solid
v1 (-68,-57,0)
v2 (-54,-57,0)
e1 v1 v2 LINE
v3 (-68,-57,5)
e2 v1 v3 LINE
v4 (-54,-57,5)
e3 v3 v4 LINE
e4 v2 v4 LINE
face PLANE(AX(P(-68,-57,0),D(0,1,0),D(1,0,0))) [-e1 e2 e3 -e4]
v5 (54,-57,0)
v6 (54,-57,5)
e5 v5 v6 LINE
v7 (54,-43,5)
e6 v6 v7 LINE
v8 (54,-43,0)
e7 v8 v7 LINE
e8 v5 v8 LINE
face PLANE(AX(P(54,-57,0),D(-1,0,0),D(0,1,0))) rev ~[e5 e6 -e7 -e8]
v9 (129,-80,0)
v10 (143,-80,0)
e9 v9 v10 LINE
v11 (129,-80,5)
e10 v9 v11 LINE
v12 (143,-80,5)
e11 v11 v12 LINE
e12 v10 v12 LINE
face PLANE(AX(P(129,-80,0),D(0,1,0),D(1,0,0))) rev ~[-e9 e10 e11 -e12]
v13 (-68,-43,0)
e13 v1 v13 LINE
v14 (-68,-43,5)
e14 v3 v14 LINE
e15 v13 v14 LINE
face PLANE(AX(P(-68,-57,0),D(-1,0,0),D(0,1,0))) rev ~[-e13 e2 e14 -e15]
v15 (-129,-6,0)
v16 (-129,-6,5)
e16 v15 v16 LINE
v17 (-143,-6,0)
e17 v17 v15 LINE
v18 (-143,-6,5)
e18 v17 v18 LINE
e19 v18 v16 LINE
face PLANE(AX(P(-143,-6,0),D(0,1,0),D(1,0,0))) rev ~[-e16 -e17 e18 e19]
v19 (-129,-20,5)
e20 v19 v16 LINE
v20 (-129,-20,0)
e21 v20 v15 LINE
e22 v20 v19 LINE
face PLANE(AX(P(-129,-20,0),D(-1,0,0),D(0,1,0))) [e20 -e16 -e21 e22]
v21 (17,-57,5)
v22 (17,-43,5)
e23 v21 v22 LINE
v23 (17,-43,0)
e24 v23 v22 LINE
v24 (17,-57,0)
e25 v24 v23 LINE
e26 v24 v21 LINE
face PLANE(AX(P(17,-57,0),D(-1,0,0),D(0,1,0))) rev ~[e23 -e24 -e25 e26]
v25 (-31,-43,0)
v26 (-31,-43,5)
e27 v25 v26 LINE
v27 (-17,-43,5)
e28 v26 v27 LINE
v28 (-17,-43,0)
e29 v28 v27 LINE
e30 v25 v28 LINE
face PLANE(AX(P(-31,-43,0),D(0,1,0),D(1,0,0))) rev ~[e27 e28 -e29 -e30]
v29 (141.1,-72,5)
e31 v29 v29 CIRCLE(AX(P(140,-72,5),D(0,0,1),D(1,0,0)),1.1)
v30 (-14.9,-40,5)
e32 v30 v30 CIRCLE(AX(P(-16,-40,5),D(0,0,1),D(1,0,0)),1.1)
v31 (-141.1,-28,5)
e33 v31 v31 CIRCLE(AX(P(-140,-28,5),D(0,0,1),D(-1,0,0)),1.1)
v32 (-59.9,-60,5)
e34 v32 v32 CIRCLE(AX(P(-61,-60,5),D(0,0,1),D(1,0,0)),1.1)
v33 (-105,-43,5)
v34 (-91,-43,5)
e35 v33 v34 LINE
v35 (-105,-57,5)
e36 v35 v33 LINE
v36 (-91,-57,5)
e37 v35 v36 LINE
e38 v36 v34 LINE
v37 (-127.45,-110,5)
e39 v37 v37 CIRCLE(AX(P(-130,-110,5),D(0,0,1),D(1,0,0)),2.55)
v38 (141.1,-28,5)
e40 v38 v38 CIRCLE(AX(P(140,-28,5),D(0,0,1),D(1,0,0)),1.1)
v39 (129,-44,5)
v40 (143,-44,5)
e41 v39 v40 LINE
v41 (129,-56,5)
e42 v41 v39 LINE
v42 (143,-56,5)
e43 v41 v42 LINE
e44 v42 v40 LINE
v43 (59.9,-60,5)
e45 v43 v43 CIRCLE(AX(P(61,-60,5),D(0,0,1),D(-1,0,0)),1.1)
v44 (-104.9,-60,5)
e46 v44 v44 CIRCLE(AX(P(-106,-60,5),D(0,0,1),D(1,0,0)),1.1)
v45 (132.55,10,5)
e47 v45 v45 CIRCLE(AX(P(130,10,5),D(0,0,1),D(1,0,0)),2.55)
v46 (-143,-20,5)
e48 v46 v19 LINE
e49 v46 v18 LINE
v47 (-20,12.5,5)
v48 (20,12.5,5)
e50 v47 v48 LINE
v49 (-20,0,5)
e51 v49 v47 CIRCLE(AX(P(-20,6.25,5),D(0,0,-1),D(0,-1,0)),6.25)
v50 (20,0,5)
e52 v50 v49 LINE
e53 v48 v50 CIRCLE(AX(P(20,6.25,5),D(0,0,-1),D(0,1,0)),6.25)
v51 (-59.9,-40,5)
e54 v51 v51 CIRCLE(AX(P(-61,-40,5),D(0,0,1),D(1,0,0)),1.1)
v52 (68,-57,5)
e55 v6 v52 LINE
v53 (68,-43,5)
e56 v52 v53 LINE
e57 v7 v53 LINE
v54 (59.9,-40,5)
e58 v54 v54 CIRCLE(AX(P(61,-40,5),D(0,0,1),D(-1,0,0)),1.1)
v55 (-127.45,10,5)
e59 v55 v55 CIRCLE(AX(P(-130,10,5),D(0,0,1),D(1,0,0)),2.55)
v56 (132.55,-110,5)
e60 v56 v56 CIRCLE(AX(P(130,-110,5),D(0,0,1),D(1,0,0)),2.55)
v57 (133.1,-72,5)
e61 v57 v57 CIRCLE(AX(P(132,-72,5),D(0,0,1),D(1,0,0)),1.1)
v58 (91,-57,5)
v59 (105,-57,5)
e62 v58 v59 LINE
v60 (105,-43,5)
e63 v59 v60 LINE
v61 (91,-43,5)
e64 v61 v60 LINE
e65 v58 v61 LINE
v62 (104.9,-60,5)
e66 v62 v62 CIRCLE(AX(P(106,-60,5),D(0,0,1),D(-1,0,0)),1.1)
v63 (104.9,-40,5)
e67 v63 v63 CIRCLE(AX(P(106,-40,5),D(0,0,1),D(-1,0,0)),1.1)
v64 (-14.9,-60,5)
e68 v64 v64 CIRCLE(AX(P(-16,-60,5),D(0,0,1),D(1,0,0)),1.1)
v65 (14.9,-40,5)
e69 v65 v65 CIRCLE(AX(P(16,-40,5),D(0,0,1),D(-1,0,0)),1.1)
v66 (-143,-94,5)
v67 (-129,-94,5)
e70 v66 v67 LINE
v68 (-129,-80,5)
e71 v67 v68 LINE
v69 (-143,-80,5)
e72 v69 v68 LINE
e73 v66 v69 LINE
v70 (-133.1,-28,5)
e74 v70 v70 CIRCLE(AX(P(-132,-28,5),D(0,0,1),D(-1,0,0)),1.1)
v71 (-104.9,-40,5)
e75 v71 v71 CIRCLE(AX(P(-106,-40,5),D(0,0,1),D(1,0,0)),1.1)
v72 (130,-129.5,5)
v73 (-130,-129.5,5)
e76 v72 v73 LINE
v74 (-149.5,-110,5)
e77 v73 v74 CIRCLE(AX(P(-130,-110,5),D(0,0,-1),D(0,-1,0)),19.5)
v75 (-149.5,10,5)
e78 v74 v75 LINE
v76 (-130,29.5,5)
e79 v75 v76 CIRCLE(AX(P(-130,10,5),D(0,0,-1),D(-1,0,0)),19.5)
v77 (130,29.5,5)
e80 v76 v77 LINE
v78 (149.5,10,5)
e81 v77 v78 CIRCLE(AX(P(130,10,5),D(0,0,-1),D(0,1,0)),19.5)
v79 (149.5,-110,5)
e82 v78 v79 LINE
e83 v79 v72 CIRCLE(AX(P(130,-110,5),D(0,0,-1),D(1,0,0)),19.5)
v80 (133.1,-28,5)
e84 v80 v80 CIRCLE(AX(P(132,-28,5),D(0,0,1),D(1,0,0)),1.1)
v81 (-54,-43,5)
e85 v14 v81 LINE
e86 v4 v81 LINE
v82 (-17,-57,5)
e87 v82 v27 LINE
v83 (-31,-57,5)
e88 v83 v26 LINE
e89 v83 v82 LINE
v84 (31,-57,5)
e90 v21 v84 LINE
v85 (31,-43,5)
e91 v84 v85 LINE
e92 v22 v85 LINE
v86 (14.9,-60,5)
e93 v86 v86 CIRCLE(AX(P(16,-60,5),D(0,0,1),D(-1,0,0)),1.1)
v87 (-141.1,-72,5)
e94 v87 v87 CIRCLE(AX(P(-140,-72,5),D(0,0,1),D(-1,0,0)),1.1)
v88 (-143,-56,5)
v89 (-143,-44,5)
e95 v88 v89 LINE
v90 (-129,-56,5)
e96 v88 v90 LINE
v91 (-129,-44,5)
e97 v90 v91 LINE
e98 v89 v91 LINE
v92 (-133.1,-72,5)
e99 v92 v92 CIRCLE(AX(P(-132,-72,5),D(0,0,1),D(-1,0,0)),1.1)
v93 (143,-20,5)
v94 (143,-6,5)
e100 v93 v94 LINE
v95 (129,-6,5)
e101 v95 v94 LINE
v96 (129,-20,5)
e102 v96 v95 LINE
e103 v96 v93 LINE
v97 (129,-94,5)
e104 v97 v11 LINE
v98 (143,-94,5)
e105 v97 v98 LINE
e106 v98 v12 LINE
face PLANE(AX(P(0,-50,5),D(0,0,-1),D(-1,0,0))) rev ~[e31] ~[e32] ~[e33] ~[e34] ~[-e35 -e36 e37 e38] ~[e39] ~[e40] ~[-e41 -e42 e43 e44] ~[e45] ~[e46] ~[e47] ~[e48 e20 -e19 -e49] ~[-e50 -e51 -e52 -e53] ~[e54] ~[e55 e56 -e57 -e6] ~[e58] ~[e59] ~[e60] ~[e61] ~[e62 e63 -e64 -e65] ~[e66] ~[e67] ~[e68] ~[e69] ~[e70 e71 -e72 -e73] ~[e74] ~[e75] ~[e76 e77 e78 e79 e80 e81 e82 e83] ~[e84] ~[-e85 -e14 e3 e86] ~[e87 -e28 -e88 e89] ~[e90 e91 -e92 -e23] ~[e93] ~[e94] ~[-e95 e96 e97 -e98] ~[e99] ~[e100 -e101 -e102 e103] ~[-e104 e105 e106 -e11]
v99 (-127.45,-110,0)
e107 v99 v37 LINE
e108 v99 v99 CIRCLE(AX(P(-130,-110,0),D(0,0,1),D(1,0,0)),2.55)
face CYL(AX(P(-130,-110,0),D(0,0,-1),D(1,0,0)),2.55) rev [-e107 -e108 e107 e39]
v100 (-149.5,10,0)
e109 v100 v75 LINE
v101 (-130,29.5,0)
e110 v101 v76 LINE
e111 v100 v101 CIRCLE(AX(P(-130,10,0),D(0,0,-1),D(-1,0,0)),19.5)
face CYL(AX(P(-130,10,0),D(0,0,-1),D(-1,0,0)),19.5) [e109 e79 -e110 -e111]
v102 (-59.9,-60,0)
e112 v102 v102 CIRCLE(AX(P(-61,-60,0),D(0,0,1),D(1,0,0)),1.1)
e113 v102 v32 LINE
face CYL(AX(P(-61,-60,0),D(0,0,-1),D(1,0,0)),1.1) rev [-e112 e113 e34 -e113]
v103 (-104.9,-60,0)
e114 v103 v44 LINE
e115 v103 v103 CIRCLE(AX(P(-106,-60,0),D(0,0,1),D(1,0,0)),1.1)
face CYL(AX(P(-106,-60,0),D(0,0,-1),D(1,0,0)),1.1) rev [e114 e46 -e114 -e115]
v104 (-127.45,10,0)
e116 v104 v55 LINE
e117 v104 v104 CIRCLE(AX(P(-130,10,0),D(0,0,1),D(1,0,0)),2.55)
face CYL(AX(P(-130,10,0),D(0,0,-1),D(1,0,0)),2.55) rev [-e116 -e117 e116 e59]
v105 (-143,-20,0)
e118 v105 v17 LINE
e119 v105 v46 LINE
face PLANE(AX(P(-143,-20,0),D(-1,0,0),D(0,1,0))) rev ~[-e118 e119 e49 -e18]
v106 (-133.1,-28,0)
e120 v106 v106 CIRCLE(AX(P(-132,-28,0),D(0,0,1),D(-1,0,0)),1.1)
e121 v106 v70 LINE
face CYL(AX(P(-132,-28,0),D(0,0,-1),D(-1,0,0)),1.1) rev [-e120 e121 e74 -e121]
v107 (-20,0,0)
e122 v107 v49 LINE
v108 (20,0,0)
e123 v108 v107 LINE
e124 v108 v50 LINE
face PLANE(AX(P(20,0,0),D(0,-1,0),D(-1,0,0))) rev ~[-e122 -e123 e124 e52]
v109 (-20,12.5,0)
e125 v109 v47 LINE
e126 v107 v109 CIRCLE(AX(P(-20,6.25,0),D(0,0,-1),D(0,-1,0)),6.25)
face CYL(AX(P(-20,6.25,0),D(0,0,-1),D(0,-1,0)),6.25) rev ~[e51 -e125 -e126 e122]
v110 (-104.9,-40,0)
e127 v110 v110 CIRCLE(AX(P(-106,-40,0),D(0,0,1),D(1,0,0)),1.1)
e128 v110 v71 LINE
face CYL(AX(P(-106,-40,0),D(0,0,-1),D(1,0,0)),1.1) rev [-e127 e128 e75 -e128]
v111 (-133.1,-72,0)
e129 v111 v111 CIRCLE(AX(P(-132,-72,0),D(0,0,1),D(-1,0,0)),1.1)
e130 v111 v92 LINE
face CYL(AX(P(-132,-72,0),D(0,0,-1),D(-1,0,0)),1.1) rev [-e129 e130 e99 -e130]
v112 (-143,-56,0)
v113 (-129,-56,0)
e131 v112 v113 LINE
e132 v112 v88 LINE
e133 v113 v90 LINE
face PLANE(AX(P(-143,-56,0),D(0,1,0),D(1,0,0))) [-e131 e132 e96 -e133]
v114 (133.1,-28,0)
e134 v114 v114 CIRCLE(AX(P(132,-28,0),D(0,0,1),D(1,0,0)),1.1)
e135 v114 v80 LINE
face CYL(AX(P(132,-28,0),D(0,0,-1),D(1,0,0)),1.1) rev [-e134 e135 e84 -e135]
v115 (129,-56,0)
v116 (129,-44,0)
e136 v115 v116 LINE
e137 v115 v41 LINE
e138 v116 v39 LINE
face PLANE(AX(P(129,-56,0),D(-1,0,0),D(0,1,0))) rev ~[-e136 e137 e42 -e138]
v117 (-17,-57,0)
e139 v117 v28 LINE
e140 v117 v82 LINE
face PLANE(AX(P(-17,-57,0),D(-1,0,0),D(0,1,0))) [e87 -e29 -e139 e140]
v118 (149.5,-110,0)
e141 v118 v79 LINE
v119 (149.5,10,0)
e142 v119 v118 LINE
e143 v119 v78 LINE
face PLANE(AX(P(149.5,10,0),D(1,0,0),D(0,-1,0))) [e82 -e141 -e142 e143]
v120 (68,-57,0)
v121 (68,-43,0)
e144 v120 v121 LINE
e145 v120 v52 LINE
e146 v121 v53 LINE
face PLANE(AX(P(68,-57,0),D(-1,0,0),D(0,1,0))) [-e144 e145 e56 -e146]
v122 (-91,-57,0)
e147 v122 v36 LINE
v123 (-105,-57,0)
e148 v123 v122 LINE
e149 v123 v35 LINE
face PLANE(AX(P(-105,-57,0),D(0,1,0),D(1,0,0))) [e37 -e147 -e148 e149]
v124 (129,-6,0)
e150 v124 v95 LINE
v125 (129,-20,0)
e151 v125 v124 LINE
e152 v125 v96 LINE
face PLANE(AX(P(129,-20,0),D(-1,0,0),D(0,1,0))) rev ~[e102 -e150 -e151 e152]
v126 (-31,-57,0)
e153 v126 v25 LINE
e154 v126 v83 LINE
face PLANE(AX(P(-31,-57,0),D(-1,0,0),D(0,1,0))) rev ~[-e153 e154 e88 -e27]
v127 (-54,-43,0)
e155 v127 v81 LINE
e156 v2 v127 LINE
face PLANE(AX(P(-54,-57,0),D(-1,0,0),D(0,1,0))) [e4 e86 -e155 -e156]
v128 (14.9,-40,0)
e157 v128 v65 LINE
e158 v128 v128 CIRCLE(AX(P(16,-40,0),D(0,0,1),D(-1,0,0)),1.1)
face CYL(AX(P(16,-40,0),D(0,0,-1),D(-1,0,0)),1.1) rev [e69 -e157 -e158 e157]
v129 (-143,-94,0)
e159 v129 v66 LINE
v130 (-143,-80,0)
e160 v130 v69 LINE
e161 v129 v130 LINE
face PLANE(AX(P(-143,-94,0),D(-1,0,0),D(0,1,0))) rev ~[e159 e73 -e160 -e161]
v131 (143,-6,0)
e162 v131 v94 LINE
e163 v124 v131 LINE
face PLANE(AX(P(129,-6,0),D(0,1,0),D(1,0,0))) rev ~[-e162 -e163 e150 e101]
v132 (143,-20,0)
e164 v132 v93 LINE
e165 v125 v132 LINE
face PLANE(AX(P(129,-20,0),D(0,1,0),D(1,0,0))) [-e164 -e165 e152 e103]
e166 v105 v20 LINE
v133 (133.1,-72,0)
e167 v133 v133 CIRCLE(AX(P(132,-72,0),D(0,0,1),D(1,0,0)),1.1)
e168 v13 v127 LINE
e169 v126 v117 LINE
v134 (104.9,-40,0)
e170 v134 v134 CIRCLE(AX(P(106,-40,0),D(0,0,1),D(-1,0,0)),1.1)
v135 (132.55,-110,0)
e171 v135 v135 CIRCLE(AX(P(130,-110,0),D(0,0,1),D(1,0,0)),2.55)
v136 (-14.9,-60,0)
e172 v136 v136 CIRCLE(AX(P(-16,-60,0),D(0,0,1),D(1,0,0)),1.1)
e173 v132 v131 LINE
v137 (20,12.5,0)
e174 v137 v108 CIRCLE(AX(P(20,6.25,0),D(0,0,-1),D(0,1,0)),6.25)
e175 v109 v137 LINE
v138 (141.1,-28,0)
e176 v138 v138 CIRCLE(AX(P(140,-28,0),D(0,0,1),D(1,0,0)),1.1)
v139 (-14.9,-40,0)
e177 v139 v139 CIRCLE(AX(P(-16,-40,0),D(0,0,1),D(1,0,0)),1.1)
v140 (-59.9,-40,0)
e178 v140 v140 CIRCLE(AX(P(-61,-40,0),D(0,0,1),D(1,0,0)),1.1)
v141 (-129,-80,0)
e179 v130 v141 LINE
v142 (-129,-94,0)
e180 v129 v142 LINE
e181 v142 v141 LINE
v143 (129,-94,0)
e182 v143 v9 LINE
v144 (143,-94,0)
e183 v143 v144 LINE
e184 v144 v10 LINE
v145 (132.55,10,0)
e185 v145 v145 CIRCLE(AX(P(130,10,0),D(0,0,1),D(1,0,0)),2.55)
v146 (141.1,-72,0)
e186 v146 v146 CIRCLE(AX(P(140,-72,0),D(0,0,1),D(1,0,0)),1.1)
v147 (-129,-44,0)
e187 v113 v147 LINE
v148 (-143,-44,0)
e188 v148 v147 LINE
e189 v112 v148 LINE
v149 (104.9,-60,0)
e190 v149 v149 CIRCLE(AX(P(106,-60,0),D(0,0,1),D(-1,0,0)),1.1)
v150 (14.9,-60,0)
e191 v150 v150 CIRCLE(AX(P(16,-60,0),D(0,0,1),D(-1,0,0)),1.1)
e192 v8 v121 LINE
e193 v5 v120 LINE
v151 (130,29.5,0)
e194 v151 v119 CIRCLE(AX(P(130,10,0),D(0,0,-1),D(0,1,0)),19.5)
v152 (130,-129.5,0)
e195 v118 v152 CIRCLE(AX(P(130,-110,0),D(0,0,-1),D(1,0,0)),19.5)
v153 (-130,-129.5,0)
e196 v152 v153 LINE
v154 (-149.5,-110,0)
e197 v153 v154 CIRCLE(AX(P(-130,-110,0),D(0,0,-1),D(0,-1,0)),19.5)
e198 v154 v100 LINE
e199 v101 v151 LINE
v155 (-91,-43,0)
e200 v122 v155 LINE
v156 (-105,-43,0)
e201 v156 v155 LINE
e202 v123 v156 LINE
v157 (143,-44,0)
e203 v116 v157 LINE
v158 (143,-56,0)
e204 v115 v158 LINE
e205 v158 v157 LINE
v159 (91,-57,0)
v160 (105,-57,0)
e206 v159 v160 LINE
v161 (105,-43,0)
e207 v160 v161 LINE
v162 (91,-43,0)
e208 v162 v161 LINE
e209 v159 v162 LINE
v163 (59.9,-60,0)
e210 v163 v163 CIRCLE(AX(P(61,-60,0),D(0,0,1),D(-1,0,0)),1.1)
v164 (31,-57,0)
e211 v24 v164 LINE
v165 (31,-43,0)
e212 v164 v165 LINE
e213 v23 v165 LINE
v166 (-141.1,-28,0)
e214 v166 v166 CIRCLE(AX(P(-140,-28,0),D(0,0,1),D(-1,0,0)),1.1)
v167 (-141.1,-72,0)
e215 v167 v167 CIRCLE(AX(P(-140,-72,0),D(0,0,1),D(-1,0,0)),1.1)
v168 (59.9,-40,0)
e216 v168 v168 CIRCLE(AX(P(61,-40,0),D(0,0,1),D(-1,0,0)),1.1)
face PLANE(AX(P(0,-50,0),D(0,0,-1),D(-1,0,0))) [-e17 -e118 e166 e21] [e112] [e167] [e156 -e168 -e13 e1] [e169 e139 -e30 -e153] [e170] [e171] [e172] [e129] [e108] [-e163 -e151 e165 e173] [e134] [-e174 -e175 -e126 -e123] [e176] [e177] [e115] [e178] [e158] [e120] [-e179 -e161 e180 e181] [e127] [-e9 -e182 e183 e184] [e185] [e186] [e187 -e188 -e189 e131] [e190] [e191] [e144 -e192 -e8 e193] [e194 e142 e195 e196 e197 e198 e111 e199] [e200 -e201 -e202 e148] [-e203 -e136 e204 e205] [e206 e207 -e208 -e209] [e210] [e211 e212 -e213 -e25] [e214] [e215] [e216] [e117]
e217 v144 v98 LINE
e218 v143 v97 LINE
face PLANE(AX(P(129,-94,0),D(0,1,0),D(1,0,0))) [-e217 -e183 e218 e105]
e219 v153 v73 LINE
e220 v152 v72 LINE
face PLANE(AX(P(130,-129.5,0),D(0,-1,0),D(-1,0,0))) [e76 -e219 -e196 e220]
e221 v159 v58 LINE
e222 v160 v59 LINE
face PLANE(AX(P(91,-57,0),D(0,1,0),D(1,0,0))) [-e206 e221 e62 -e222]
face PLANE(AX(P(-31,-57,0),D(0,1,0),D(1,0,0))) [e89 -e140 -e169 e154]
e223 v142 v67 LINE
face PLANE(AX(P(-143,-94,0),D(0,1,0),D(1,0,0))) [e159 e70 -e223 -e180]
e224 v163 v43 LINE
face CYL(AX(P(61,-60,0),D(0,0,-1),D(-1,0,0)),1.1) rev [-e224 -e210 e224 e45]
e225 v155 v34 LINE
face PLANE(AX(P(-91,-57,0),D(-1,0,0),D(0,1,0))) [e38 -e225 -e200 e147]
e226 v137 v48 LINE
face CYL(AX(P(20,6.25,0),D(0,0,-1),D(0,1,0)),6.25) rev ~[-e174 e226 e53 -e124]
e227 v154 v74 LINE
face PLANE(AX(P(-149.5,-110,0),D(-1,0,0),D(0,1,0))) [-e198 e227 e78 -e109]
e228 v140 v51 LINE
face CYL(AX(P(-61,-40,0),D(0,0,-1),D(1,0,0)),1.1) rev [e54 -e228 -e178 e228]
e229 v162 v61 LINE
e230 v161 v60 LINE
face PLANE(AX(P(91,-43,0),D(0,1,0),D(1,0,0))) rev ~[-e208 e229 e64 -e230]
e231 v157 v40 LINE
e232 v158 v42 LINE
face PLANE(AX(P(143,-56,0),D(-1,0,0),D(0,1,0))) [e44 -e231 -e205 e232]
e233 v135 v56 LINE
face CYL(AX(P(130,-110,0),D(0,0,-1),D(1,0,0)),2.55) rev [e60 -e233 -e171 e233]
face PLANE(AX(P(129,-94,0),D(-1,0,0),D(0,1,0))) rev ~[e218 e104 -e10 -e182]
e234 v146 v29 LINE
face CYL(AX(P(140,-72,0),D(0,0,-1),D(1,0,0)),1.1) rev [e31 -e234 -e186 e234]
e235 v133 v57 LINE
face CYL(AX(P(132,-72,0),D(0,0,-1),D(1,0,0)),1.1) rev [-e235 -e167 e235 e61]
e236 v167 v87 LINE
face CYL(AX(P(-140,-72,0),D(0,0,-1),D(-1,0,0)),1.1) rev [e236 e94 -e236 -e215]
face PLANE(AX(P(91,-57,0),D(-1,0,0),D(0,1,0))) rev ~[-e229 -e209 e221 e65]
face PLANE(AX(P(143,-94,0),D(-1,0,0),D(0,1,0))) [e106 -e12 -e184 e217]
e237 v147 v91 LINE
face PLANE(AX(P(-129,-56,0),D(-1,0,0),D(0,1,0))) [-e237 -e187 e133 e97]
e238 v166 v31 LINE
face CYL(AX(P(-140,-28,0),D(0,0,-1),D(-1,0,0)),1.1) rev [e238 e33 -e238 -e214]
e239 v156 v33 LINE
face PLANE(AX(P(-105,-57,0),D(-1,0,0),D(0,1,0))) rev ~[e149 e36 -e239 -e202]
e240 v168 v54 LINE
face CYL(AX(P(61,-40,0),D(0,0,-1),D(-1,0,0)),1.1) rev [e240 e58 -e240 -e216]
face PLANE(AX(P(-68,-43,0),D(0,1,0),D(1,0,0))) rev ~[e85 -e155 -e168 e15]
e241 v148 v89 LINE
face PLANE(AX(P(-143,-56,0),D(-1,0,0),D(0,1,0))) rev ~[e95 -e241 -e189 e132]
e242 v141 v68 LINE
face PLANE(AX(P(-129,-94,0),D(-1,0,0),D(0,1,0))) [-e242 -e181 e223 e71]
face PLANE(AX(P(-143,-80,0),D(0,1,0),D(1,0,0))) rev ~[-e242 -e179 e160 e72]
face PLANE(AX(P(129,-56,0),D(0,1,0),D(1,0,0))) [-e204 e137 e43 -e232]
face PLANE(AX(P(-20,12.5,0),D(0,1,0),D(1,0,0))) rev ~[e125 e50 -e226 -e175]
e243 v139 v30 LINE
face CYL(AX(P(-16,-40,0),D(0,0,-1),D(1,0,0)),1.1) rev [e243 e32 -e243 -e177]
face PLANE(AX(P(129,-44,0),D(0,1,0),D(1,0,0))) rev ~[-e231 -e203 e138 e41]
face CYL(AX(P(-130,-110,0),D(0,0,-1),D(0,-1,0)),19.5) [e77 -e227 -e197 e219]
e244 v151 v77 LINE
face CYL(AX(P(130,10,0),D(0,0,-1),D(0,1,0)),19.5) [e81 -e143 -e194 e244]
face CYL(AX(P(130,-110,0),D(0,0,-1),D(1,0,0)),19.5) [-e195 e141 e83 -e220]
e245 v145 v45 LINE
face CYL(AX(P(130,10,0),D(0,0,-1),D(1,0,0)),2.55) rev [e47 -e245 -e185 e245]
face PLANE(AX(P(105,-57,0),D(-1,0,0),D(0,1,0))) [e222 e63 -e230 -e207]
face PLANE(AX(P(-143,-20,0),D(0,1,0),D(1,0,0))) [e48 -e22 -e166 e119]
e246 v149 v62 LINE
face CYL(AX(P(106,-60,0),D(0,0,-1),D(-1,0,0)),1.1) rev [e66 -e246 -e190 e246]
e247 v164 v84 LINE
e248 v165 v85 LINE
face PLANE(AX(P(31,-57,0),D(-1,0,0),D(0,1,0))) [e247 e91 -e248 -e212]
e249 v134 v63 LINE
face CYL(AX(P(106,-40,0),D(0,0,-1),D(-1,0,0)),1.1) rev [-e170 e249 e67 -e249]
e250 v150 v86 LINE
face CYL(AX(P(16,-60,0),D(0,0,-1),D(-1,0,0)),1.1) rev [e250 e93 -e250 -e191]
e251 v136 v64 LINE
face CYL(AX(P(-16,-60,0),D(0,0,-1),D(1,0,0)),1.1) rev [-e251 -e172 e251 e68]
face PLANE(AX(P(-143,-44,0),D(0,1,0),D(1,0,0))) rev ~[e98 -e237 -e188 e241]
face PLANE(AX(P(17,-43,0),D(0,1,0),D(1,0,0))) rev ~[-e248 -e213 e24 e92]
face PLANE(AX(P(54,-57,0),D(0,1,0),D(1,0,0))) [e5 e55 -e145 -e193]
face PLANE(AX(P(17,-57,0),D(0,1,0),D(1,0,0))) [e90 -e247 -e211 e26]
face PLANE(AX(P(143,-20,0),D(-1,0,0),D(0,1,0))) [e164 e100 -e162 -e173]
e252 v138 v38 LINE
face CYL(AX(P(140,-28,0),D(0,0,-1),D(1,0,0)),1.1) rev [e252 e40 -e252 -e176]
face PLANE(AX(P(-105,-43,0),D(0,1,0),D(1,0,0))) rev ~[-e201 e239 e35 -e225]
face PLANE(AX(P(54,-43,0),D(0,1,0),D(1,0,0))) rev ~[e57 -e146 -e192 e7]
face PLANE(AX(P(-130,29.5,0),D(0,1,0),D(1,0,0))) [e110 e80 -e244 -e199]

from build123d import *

# Parameters (mm, degrees)
SKETCH_2_R      = 2.55
SKETCH_2_R_2    = 1.1
SKETCH_2_W      = 14
SKETCH_2_H      = 14
SKETCH_2_H_2    = 12
EXTRUDE_1_DEPTH = 5


with BuildPart() as part:
    # 草图2 → 凸台-拉伸1 (new body)
    with BuildSketch(Plane.XY):
        with BuildLine():
            Line((-130, 29.5), (130, 29.5))
            ThreePointArc((130, 29.5), (143.788582233, 23.788582233), (149.5, 10))
            Line((149.5, 10), (149.5, -110))
            ThreePointArc((149.5, -110), (143.788582233, -123.788582233), (130, -129.5))
            Line((130, -129.5), (-130, -129.5))
            ThreePointArc((-130, -129.5), (-143.788582233, -123.788582233), (-149.5, -110))
            Line((-149.5, -110), (-149.5, 10))
            ThreePointArc((-149.5, 10), (-143.788582233, 23.788582233), (-130, 29.5))
        make_face()
        with Locations((130, -110)):
            Circle(SKETCH_2_R, mode=Mode.SUBTRACT)
        with Locations((130, 10)):
            Circle(SKETCH_2_R, mode=Mode.SUBTRACT)
        with Locations((-130, -110)):
            Circle(SKETCH_2_R, mode=Mode.SUBTRACT)
        with Locations((-130, 10)):
            Circle(SKETCH_2_R, mode=Mode.SUBTRACT)
        with Locations((-106, -40)):
            Circle(SKETCH_2_R_2, mode=Mode.SUBTRACT)
        with Locations((-106, -60)):
            Circle(SKETCH_2_R_2, mode=Mode.SUBTRACT)
        with Locations((-16, -40)):
            Circle(SKETCH_2_R_2, mode=Mode.SUBTRACT)
        with Locations((-16, -60)):
            Circle(SKETCH_2_R_2, mode=Mode.SUBTRACT)
        with Locations((-61, -60)):
            Circle(SKETCH_2_R_2, mode=Mode.SUBTRACT)
        with Locations((-61, -40)):
            Circle(SKETCH_2_R_2, mode=Mode.SUBTRACT)
        with Locations(Location((16, -60, 0), (0, 0, 180))):
            Circle(SKETCH_2_R_2, mode=Mode.SUBTRACT)
        with Locations(Location((16, -40, 0), (0, 0, 180))):
            Circle(SKETCH_2_R_2, mode=Mode.SUBTRACT)
        with Locations(Location((61, -60, 0), (0, 0, 180))):
            Circle(SKETCH_2_R_2, mode=Mode.SUBTRACT)
        with Locations(Location((61, -40, 0), (0, 0, 180))):
            Circle(SKETCH_2_R_2, mode=Mode.SUBTRACT)
        with Locations(Location((106, -60, 0), (0, 0, 180))):
            Circle(SKETCH_2_R_2, mode=Mode.SUBTRACT)
        with Locations(Location((106, -40, 0), (0, 0, 180))):
            Circle(SKETCH_2_R_2, mode=Mode.SUBTRACT)
        with Locations((140, -28)):
            Circle(SKETCH_2_R_2, mode=Mode.SUBTRACT)
        with Locations((132, -28)):
            Circle(SKETCH_2_R_2, mode=Mode.SUBTRACT)
        with Locations((132, -72)):
            Circle(SKETCH_2_R_2, mode=Mode.SUBTRACT)
        with Locations((140, -72)):
            Circle(SKETCH_2_R_2, mode=Mode.SUBTRACT)
        with Locations(Location((-140, -72, 0), (0, 0, 180))):
            Circle(SKETCH_2_R_2, mode=Mode.SUBTRACT)
        with Locations(Location((-132, -72, 0), (0, 0, 180))):
            Circle(SKETCH_2_R_2, mode=Mode.SUBTRACT)
        with Locations(Location((-132, -28, 0), (0, 0, 180))):
            Circle(SKETCH_2_R_2, mode=Mode.SUBTRACT)
        with Locations(Location((-140, -28, 0), (0, 0, 180))):
            Circle(SKETCH_2_R_2, mode=Mode.SUBTRACT)
        with Locations((-61, -50)):
            Rectangle(SKETCH_2_W, SKETCH_2_H, mode=Mode.SUBTRACT)
        with Locations((-24, -50)):
            Rectangle(SKETCH_2_W, SKETCH_2_H, mode=Mode.SUBTRACT)
        with Locations((24, -50)):
            Rectangle(SKETCH_2_W, SKETCH_2_H, mode=Mode.SUBTRACT)
        with Locations((136, -87)):
            Rectangle(SKETCH_2_W, SKETCH_2_H, mode=Mode.SUBTRACT)
        with Locations((136, -13)):
            Rectangle(SKETCH_2_W, SKETCH_2_H, mode=Mode.SUBTRACT)
        with BuildLine():
            Line((-20, 12.5), (20, 12.5))
            ThreePointArc((20, 12.5), (26.25, 6.25), (20, 0))
            Line((20, 0), (-20, 0))
            ThreePointArc((-20, 0), (-26.25, 6.25), (-20, 12.5))
        make_face(mode=Mode.SUBTRACT)
        with Locations((-136, -87)):
            Rectangle(SKETCH_2_W, SKETCH_2_H, mode=Mode.SUBTRACT)
        with Locations((-136, -13)):
            Rectangle(SKETCH_2_W, SKETCH_2_H, mode=Mode.SUBTRACT)
        with Locations((-98, -50)):
            Rectangle(SKETCH_2_W, SKETCH_2_H, mode=Mode.SUBTRACT)
        with Locations((61, -50)):
            Rectangle(SKETCH_2_W, SKETCH_2_H, mode=Mode.SUBTRACT)
        with Locations((98, -50)):
            Rectangle(SKETCH_2_W, SKETCH_2_H, mode=Mode.SUBTRACT)
        with Locations((-136, -50)):
            Rectangle(SKETCH_2_W, SKETCH_2_H_2, mode=Mode.SUBTRACT)
        with Locations((136, -50)):
            Rectangle(SKETCH_2_W, SKETCH_2_H_2, mode=Mode.SUBTRACT)
    extrude(amount=EXTRUDE_1_DEPTH)


solid = part.part
